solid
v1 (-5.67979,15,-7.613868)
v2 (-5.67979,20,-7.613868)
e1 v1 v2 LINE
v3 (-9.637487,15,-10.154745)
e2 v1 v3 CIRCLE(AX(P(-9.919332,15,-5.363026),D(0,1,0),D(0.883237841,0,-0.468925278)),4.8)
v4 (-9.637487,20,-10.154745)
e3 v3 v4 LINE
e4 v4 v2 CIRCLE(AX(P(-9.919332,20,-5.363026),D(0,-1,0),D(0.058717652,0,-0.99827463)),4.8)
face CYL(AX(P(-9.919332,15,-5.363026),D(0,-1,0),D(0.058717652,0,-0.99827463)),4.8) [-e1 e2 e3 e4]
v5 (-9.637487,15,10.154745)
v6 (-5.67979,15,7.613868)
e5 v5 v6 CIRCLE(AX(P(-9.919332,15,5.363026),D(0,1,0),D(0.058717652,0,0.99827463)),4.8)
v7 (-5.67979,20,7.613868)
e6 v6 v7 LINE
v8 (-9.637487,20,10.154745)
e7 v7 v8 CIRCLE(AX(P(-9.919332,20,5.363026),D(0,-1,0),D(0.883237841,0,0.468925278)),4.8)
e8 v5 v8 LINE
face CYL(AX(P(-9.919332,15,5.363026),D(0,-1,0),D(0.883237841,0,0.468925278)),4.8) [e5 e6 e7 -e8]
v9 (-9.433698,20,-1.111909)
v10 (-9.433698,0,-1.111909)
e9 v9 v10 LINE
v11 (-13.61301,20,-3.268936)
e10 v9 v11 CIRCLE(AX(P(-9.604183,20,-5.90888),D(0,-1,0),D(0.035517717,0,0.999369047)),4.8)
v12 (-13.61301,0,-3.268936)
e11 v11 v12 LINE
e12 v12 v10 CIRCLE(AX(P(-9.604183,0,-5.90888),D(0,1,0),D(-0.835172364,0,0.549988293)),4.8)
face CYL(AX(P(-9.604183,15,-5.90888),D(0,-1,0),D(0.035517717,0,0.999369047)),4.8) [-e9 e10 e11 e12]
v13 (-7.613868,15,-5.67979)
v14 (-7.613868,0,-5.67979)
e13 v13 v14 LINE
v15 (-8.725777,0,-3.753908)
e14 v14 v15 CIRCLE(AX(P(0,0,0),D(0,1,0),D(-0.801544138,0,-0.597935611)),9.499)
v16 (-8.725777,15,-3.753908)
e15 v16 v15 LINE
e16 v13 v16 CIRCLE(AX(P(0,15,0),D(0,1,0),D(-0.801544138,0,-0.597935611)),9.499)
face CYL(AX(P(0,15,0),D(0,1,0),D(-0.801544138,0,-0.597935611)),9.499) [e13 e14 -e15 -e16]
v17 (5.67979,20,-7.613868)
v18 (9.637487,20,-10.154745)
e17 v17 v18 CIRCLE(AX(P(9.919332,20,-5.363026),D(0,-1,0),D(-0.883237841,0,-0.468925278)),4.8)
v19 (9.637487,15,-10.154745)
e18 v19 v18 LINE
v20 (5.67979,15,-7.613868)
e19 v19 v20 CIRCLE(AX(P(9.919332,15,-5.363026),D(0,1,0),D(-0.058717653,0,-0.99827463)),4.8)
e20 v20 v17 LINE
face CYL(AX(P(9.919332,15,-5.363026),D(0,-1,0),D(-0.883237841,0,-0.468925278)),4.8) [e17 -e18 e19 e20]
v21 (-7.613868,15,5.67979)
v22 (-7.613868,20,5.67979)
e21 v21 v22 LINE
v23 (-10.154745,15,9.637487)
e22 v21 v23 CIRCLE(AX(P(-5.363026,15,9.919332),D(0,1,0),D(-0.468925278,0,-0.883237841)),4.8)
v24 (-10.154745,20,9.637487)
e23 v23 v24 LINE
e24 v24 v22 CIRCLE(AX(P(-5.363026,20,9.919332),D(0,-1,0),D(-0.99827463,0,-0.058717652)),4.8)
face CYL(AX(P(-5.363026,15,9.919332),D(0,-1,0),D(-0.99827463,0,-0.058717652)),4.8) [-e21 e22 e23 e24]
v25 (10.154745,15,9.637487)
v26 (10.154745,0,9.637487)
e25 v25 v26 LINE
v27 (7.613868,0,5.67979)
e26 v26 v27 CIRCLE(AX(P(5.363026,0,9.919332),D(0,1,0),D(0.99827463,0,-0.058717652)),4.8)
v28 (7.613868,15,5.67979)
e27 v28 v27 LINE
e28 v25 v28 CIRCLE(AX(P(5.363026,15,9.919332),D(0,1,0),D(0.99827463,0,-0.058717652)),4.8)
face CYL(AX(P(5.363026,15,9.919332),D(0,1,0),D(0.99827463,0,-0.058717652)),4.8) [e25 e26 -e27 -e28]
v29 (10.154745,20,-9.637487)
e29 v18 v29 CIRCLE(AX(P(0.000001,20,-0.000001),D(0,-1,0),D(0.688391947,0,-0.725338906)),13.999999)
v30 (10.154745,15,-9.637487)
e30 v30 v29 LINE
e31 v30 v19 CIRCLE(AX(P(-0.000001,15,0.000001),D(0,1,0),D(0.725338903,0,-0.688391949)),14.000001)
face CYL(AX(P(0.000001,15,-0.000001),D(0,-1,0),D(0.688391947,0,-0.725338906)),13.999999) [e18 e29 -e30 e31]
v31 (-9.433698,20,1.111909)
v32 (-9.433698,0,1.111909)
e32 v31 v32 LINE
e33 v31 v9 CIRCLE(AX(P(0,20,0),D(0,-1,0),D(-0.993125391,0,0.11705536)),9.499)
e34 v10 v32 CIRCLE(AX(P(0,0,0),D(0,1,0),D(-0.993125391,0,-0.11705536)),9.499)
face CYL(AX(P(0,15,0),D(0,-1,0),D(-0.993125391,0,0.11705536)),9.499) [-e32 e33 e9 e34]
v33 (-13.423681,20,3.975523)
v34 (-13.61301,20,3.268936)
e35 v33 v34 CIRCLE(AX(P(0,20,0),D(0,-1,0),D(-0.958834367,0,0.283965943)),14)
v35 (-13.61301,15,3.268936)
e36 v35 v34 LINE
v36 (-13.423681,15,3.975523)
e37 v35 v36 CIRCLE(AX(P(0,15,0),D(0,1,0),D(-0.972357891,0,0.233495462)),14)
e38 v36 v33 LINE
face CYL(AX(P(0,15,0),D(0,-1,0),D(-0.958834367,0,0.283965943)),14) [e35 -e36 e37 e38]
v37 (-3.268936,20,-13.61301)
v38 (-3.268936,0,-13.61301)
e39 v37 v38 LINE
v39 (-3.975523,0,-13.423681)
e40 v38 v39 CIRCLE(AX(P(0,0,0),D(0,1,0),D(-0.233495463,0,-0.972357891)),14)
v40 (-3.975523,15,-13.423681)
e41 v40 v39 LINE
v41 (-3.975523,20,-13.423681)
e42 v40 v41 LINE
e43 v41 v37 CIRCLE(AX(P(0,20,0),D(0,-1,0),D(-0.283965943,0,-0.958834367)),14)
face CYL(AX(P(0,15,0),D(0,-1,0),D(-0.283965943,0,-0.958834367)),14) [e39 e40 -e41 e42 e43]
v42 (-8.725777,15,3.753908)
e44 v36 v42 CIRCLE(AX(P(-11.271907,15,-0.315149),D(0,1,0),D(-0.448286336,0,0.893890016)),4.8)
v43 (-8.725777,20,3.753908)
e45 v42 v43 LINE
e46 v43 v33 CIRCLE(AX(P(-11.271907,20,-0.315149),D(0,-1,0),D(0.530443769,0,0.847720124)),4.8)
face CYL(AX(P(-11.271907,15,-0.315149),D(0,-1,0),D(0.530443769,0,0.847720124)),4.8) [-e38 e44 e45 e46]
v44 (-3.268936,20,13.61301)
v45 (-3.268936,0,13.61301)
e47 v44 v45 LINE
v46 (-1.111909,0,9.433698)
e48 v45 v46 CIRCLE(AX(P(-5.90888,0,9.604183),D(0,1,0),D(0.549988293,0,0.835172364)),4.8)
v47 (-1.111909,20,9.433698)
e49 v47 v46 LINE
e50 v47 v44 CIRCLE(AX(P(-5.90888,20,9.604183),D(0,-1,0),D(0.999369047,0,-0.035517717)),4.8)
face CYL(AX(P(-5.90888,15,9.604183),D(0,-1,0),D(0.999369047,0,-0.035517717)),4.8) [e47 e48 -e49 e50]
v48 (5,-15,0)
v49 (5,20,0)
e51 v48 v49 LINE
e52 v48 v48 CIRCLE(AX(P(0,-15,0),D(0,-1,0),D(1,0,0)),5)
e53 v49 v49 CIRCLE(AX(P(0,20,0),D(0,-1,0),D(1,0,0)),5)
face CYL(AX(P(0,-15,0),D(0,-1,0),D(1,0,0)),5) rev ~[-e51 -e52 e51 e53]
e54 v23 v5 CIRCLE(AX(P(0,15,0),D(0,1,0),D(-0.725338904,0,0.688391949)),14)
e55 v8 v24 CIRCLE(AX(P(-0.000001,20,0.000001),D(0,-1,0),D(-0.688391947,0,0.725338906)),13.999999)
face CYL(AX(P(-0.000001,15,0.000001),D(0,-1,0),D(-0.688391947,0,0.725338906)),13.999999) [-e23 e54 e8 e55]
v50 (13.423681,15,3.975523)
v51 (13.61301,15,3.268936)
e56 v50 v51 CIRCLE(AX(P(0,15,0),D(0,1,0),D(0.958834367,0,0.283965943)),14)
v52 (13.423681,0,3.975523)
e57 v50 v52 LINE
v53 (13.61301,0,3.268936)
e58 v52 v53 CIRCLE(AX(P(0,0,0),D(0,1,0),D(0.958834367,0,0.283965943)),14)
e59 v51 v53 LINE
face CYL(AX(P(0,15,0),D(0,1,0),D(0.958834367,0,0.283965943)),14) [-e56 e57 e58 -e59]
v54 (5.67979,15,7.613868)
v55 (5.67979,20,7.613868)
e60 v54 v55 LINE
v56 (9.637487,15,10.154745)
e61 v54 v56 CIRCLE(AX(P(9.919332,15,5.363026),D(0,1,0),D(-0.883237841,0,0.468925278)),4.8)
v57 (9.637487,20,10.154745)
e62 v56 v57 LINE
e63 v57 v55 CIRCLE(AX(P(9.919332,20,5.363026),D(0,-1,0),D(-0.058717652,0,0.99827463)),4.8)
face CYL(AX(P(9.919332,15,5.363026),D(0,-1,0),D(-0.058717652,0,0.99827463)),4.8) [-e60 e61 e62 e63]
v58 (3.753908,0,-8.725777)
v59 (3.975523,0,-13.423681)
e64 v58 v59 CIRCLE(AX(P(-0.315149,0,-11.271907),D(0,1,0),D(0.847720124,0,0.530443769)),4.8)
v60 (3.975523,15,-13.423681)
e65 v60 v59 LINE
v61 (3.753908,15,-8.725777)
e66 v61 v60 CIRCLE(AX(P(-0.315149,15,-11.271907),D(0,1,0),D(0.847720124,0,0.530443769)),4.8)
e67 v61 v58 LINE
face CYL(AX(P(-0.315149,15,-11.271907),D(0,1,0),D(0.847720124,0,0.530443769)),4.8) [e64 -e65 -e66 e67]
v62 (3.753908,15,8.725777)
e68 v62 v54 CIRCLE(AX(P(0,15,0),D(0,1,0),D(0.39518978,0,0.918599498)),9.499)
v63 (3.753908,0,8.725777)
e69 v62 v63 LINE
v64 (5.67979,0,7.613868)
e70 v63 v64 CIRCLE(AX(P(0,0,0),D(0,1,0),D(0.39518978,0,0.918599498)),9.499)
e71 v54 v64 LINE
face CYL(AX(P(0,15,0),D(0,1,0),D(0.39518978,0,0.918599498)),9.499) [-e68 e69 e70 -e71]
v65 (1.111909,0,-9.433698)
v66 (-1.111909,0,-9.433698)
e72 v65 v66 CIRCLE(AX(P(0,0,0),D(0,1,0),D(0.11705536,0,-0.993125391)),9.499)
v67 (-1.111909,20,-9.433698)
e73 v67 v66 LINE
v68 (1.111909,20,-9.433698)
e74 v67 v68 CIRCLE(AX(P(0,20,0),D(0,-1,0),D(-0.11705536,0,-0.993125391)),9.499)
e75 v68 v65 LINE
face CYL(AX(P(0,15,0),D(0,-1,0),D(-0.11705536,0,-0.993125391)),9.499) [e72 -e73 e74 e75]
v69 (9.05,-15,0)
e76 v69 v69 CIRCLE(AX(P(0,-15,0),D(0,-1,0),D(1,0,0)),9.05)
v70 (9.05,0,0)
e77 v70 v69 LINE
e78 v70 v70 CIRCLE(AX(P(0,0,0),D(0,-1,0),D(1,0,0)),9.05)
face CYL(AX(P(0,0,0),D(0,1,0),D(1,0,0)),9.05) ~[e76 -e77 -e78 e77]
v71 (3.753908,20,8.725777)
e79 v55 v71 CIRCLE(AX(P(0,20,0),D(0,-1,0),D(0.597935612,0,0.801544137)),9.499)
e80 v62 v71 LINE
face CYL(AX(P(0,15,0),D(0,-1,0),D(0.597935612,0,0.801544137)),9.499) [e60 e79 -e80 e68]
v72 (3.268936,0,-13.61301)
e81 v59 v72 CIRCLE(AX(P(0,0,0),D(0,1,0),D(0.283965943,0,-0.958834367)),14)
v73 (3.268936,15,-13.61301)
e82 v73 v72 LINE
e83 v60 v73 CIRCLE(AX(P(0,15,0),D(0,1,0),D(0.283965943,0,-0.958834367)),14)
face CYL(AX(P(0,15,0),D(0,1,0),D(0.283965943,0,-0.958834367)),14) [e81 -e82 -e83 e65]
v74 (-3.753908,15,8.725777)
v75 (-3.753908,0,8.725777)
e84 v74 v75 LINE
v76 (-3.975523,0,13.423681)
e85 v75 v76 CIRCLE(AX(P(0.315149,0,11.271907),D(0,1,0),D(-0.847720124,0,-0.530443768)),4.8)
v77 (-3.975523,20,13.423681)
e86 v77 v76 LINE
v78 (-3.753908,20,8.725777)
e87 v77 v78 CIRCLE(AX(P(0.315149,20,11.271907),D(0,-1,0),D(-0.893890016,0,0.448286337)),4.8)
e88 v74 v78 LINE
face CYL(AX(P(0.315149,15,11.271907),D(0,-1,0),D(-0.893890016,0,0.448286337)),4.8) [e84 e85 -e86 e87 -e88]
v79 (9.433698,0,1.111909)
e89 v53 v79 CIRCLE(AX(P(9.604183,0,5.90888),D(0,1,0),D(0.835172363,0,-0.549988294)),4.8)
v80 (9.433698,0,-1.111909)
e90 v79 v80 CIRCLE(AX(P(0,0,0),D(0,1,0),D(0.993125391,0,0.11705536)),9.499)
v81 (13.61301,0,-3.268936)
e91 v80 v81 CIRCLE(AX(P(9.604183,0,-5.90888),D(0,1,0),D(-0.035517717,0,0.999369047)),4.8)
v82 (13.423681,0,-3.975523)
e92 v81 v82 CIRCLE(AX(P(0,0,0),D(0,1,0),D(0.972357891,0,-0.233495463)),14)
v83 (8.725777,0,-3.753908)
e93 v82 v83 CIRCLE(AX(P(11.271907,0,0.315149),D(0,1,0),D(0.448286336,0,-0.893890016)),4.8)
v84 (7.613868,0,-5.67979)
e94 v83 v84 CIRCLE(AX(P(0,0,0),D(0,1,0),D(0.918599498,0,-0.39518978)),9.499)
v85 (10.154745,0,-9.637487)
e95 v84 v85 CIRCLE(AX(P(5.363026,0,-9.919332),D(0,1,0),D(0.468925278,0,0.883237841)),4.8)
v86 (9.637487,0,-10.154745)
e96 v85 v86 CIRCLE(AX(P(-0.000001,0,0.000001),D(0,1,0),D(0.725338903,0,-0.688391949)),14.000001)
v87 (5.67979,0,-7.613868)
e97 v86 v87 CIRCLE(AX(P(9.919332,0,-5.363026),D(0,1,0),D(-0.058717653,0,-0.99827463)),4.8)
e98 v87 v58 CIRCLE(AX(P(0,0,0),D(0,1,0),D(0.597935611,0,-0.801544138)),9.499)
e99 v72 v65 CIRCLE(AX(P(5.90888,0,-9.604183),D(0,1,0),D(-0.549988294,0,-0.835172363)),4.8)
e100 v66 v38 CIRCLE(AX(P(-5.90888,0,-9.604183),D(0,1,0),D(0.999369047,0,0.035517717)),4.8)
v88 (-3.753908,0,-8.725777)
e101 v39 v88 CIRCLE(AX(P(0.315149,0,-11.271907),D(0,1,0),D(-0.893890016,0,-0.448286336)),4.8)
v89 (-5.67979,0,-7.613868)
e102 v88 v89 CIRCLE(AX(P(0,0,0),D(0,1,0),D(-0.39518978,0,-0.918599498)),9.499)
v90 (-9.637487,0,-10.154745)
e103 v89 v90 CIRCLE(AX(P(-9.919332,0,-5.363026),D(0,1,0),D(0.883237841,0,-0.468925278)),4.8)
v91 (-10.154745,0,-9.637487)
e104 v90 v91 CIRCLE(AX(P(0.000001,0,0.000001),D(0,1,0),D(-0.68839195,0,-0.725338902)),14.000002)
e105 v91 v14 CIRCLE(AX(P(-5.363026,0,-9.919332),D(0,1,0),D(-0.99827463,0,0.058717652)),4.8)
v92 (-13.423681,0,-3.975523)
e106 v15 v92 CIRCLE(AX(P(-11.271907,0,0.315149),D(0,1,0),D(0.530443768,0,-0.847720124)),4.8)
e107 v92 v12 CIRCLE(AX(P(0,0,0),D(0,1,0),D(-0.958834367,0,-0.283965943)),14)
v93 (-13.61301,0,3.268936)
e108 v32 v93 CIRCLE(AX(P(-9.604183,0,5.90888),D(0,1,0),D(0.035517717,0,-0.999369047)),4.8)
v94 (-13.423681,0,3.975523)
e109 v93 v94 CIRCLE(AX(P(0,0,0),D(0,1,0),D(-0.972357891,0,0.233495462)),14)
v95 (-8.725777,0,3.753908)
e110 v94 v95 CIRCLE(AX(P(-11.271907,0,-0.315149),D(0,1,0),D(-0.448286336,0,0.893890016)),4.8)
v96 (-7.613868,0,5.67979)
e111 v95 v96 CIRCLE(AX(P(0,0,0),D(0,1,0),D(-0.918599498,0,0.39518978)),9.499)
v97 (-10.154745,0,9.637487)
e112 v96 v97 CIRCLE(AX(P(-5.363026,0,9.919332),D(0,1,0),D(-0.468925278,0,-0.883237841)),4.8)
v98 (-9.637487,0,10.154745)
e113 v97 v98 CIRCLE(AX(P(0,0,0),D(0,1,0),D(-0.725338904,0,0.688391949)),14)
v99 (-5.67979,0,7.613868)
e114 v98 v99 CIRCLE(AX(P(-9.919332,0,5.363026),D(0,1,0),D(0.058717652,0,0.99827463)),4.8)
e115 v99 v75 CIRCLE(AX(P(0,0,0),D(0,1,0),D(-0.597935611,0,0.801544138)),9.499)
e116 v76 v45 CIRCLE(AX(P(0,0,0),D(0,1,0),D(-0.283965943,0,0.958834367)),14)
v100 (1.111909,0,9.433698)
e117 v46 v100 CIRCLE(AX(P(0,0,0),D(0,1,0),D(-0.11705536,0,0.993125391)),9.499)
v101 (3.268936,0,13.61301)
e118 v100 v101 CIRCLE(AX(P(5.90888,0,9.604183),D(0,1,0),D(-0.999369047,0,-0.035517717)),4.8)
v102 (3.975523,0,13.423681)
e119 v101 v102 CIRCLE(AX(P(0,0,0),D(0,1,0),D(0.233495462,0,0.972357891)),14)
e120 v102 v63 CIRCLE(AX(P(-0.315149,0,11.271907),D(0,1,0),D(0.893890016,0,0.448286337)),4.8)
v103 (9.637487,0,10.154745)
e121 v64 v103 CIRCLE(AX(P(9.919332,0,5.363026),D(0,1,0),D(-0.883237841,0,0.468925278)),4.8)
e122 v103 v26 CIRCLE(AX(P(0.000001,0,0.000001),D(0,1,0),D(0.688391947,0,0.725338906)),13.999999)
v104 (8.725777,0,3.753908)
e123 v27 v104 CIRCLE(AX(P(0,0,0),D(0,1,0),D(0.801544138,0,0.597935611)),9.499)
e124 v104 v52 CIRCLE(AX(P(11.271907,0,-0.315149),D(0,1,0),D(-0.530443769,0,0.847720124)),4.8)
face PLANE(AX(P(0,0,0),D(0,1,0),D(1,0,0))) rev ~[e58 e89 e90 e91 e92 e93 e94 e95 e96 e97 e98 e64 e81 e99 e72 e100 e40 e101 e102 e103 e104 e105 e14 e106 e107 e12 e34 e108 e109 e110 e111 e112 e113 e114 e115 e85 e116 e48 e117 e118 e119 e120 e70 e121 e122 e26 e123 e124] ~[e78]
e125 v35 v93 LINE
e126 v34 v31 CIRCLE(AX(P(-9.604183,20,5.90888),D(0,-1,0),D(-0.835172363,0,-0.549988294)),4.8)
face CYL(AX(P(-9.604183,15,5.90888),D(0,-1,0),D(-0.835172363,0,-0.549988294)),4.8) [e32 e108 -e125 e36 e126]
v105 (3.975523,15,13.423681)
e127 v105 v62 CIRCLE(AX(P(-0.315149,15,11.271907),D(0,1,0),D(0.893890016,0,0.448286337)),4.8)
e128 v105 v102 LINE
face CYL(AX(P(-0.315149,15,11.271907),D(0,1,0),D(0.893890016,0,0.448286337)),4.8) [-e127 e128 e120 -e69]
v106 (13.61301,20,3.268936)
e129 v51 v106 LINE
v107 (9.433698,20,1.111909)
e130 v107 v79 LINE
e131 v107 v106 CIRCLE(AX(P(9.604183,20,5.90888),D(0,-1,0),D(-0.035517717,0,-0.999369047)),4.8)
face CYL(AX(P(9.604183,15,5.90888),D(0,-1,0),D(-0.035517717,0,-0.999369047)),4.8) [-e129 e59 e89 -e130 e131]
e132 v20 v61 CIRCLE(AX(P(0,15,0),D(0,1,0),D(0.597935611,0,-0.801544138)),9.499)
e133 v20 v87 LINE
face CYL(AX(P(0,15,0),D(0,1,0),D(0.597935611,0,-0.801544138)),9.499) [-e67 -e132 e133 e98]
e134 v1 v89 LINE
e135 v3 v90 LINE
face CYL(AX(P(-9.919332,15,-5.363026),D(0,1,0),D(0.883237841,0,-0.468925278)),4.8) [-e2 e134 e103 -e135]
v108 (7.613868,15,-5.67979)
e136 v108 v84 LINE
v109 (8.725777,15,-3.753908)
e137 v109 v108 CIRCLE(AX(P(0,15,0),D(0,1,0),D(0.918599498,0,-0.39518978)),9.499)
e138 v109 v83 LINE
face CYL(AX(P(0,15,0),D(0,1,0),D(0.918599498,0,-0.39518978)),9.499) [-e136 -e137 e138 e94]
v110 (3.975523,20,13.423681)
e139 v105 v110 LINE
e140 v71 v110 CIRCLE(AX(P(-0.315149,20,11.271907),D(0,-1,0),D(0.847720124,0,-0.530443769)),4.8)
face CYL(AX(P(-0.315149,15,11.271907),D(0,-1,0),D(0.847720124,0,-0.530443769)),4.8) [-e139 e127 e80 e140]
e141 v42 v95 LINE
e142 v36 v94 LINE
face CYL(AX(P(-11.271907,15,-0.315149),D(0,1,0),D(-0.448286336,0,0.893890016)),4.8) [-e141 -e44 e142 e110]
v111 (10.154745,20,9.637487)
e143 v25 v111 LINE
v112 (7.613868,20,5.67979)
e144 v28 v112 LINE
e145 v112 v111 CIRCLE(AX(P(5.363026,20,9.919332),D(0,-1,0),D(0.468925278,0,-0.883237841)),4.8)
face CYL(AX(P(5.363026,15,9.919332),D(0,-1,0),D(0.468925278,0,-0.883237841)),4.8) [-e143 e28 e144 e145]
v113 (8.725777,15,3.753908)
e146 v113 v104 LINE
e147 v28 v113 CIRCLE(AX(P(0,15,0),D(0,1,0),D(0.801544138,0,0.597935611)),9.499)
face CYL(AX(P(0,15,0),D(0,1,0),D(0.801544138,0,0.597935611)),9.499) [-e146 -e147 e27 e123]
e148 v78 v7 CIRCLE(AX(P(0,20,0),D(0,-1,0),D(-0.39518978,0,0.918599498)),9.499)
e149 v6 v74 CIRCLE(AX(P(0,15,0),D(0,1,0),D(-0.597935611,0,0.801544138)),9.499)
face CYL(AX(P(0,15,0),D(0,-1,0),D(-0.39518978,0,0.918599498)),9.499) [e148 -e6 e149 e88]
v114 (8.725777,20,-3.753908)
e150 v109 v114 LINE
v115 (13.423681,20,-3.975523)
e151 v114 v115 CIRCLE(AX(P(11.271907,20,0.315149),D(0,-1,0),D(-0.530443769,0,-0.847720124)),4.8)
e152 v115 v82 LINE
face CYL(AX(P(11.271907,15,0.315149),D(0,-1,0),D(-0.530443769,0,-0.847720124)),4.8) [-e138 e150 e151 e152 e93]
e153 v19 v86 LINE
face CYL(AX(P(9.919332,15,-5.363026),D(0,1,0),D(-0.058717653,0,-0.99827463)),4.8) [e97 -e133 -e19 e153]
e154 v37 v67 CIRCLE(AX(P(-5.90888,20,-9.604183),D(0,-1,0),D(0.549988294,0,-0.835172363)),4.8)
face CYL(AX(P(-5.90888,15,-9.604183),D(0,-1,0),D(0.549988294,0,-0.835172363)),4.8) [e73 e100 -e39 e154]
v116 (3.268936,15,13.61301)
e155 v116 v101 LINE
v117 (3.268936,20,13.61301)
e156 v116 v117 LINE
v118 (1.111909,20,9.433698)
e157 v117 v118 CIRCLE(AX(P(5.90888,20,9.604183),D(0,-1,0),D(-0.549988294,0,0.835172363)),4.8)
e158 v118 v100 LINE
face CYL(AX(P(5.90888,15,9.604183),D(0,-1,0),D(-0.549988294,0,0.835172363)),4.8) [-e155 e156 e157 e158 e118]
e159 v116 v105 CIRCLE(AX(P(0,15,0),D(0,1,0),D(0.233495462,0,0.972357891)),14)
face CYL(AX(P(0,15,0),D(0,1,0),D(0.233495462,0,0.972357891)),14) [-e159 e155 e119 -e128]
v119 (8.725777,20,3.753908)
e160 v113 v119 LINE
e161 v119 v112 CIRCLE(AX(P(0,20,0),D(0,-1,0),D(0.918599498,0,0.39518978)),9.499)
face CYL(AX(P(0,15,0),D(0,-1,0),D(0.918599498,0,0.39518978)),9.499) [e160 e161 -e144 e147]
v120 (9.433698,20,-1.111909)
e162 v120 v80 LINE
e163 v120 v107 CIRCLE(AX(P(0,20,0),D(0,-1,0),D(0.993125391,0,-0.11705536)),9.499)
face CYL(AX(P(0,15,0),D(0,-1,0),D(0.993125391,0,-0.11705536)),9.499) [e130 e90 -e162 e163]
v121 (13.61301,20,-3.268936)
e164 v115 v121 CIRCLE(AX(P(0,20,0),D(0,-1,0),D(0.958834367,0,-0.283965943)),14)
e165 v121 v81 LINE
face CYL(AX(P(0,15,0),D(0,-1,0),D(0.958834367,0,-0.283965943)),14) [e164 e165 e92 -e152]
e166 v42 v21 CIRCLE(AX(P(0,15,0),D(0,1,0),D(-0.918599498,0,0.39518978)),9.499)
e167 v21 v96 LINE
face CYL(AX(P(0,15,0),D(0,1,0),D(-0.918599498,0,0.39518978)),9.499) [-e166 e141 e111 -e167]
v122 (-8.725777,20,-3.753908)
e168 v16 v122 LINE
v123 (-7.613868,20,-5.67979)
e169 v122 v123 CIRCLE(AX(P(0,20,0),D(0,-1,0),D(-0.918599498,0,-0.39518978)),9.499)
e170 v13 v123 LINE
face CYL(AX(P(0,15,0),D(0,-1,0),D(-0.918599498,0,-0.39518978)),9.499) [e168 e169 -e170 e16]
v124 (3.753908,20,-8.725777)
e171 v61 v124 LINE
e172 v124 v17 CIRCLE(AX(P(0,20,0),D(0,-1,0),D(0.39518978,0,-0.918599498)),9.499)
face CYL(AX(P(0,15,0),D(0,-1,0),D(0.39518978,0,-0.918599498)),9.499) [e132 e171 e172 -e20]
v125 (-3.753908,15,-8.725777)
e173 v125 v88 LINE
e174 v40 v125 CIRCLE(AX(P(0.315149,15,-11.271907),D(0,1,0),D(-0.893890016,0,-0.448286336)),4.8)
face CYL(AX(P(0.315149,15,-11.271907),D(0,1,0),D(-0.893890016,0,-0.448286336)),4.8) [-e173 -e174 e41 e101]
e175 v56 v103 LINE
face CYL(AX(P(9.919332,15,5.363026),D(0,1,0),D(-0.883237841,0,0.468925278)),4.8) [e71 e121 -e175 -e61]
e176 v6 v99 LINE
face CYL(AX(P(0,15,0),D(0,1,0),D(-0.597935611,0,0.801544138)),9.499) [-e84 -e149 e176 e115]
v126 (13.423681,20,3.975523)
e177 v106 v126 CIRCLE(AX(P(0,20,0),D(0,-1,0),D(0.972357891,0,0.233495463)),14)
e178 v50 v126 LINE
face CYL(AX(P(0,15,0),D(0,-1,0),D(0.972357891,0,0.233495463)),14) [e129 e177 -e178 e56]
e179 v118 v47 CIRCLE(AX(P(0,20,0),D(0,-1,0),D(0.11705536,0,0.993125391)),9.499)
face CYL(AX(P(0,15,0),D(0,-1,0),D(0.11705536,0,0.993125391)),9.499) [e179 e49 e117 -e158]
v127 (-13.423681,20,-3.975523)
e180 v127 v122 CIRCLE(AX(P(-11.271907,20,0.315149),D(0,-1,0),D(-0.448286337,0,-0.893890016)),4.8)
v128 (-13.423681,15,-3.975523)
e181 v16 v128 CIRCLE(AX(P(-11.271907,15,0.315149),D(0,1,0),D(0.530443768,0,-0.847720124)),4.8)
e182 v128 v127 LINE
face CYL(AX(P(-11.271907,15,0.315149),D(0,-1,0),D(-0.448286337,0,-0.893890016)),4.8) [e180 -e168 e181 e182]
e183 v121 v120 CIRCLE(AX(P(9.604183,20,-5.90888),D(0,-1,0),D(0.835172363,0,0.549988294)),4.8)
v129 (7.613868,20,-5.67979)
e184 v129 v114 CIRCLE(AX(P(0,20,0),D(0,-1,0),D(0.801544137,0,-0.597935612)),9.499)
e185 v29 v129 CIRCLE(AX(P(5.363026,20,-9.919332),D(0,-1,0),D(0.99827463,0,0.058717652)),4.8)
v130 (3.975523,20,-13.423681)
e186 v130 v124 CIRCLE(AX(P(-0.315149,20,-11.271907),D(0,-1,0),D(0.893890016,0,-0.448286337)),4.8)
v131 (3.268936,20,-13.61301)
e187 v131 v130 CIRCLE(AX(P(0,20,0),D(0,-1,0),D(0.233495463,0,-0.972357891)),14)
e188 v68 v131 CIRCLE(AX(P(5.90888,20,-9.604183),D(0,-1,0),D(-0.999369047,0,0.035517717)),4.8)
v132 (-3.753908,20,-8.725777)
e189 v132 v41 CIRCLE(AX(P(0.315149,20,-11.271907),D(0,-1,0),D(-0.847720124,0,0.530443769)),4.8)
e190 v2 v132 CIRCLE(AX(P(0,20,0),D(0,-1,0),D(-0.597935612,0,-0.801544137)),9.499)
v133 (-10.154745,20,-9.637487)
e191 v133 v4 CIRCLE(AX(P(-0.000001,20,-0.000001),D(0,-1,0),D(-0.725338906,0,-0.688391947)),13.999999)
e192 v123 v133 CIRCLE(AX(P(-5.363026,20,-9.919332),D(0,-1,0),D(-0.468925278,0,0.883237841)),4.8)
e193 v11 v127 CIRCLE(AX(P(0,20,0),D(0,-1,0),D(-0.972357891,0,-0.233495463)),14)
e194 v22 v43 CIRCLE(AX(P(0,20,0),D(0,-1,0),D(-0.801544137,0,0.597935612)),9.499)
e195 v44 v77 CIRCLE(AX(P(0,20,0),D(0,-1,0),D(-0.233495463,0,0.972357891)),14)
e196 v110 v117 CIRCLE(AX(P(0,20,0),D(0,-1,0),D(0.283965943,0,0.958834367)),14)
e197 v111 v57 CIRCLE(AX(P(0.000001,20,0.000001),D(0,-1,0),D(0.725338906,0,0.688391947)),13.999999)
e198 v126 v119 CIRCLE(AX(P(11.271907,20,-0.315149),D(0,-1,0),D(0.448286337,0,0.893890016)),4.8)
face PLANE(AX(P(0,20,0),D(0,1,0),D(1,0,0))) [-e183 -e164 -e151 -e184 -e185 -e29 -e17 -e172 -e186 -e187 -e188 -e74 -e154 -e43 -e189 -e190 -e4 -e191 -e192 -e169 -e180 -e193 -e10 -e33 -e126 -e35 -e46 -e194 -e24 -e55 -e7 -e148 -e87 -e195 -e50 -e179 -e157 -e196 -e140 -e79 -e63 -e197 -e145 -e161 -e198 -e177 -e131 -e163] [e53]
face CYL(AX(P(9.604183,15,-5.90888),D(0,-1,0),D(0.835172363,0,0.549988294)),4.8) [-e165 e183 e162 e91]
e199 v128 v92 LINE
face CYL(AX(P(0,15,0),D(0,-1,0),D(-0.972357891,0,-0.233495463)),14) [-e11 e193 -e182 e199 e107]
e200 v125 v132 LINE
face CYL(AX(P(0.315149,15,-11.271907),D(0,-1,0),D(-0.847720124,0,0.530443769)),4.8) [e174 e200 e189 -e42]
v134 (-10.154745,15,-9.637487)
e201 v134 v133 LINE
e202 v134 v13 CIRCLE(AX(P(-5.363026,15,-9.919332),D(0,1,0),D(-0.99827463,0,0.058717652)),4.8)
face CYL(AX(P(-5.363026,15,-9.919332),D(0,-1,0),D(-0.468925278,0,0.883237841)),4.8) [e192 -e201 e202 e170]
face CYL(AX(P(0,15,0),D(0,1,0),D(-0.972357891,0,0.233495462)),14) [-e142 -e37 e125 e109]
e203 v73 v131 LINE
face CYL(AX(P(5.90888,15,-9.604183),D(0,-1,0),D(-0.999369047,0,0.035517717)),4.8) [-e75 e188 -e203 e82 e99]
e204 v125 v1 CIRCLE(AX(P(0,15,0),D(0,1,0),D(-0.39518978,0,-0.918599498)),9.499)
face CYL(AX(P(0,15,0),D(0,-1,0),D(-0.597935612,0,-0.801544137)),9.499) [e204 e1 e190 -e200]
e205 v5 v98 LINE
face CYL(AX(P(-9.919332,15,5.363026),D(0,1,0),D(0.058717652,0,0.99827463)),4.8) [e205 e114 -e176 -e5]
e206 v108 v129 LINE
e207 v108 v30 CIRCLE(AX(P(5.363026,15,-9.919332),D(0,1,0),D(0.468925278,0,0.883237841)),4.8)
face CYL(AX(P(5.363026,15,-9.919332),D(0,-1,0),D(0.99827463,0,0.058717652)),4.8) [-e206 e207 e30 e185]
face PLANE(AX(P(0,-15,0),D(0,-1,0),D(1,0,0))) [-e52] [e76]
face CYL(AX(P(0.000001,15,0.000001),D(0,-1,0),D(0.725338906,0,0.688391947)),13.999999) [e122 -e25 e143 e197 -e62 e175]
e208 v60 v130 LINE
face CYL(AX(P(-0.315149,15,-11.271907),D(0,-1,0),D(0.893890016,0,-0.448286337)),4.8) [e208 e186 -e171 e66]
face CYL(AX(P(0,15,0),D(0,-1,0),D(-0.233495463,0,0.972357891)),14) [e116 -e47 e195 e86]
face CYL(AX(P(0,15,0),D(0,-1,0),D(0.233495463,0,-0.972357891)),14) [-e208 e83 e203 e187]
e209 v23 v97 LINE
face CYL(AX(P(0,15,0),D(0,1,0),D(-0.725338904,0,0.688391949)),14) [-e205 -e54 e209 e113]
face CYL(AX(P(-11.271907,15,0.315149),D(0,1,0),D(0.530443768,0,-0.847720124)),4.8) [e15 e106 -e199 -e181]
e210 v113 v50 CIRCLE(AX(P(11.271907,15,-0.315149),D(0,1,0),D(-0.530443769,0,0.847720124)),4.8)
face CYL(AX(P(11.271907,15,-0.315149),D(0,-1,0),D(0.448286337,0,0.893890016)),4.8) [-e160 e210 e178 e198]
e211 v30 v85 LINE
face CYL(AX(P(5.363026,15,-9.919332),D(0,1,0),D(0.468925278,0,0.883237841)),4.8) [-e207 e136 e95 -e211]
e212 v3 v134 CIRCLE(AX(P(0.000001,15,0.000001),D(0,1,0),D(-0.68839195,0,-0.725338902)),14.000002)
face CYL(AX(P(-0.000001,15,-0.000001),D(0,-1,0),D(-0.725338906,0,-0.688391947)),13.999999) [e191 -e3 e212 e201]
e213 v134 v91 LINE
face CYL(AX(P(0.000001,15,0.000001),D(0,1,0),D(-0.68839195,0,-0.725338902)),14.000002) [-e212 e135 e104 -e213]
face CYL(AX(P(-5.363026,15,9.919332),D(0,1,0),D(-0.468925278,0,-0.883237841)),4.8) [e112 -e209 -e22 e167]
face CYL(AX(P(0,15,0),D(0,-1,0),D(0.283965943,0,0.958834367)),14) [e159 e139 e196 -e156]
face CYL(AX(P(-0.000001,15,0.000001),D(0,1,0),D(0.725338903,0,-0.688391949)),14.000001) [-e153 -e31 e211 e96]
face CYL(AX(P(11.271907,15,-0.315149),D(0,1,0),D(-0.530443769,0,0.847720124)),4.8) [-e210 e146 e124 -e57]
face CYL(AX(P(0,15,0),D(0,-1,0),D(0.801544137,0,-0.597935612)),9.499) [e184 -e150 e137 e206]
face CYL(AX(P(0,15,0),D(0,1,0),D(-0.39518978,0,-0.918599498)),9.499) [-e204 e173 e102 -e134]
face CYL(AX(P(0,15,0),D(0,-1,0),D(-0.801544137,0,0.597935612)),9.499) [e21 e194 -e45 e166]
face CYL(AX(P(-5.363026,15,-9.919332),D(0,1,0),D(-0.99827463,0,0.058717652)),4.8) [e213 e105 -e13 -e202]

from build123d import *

# Parameters (mm, degrees)
SKETCH1_R           = 17
BOSS_EXTRUDE1_DEPTH = 20
SKETCH2_R           = 17
CUT_EXTRUDE1_DEPTH  = 15
SKETCH4_R           = 17
CUT_EXTRUDE2_DEPTH  = 5
SKETCH5_R           = 9.05
BOSS_EXTRUDE2_DEPTH = 15
SKETCH6_R           = 5
CUT_EXTRUDE3_DEPTH  = 35


with BuildPart() as part:
    # Sketch1 → Boss-Extrude1 (new body)
    with BuildSketch(Plane(origin=(0, 0, 0), x_dir=(1, 0, 0), z_dir=(0, 1, 0))):
        Circle(SKETCH1_R)
    extrude(amount=BOSS_EXTRUDE1_DEPTH)

    # Sketch2 → Cut-Extrude1 (cut)
    with BuildSketch(Plane(origin=(-13.818246137, 15, -17.496579046), x_dir=(1, 0, 0), z_dir=(0, 1, 0))):
        with Locations((13.818246137, -17.496579046)):
            Circle(SKETCH2_R)
        with BuildLine():
            ThreePointArc((19.498036508, -25.110446812), (21.14436633, -26.898819817), (23.455733413, -27.651323701))
            ThreePointArc((23.455733413, -27.651323701), (23.717741074, -27.396073983), (23.972990792, -27.134066322))
            ThreePointArc((23.972990792, -27.134066322), (23.220486908, -24.822699239), (21.432113903, -23.176369417))
            ThreePointArc((21.432113903, -23.176369417), (22.044621448, -22.246079046), (22.544022769, -21.250486767))
            ThreePointArc((22.544022769, -21.250486767), (24.86397272, -21.97609831), (27.241927274, -21.472102249))
            ThreePointArc((27.241927274, -21.472102249), (27.341207705, -21.120045678), (27.431256615, -20.765515528))
            ThreePointArc((27.431256615, -20.765515528), (25.623885593, -19.140064859), (23.251944228, -18.608487912))
            ThreePointArc((23.251944228, -18.608487912), (23.317246137, -17.496579046), (23.251944228, -16.38467018))
            ThreePointArc((23.251944228, -16.38467018), (25.623885593, -15.853093234), (27.431256615, -14.227642564))
            ThreePointArc((27.431256615, -14.227642564), (27.341207705, -13.873112415), (27.241927274, -13.521055844))
            ThreePointArc((27.241927274, -13.521055844), (24.86397272, -13.017059783), (22.544022769, -13.742671325))
            ThreePointArc((22.544022769, -13.742671325), (22.044621448, -12.747079046), (21.432113903, -11.816788676))
            ThreePointArc((21.432113903, -11.816788676), (23.220486908, -10.170458854), (23.972990792, -7.85909177))
            ThreePointArc((23.972990792, -7.85909177), (23.717741074, -7.59708411), (23.455733413, -7.341834391))
            ThreePointArc((23.455733413, -7.341834391), (21.14436633, -8.094338276), (19.498036508, -9.882711281))
            ThreePointArc((19.498036508, -9.882711281), (18.567746137, -9.270203736), (17.572153858, -8.770802415))
            ThreePointArc((17.572153858, -8.770802415), (18.297765401, -6.450852463), (17.79376934, -4.072897909))
            ThreePointArc((17.79376934, -4.072897909), (17.441712769, -3.973617478), (17.087182619, -3.883568568))
            ThreePointArc((17.087182619, -3.883568568), (15.46173195, -5.69093959), (14.930155003, -8.062880955))
            ThreePointArc((14.930155003, -8.062880955), (13.818246137, -7.997579046), (12.706337271, -8.062880955))
            ThreePointArc((12.706337271, -8.062880955), (12.174760325, -5.69093959), (10.549309655, -3.883568568))
            ThreePointArc((10.549309655, -3.883568568), (10.194779506, -3.973617478), (9.842722935, -4.072897909))
            ThreePointArc((9.842722935, -4.072897909), (9.338726874, -6.450852463), (10.064338416, -8.770802415))
            ThreePointArc((10.064338416, -8.770802415), (9.068746137, -9.270203736), (8.138455767, -9.882711281))
            ThreePointArc((8.138455767, -9.882711281), (6.492125945, -8.094338276), (4.180758862, -7.341834391))
            ThreePointArc((4.180758862, -7.341834391), (3.918751201, -7.59708411), (3.663501482, -7.85909177))
            ThreePointArc((3.663501482, -7.85909177), (4.416005367, -10.170458854), (6.204378372, -11.816788676))
            ThreePointArc((6.204378372, -11.816788676), (5.591870827, -12.747079046), (5.092469506, -13.742671325))
            ThreePointArc((5.092469506, -13.742671325), (2.772519554, -13.017059783), (0.394565, -13.521055844))
            ThreePointArc((0.394565, -13.521055844), (0.295284569, -13.873112415), (0.205235659, -14.227642564))
            ThreePointArc((0.205235659, -14.227642564), (2.012606681, -15.853093234), (4.384548046, -16.38467018))
            ThreePointArc((4.384548046, -16.38467018), (4.319246137, -17.496579046), (4.384548046, -18.608487912))
            ThreePointArc((4.384548046, -18.608487912), (2.012606681, -19.140064859), (0.205235659, -20.765515528))
            ThreePointArc((0.205235659, -20.765515528), (0.295284569, -21.120045678), (0.394565, -21.472102249))
            ThreePointArc((0.394565, -21.472102249), (2.772519554, -21.97609831), (5.092469506, -21.250486767))
            ThreePointArc((5.092469506, -21.250486767), (5.591870827, -22.246079046), (6.204378372, -23.176369417))
            ThreePointArc((6.204378372, -23.176369417), (4.416005367, -24.822699239), (3.663501482, -27.134066322))
            ThreePointArc((3.663501482, -27.134066322), (3.918751201, -27.396073983), (4.180758862, -27.651323701))
            ThreePointArc((4.180758862, -27.651323701), (6.492125945, -26.898819817), (8.138455767, -25.110446812))
            ThreePointArc((8.138455767, -25.110446812), (9.068746137, -25.722954357), (10.064338416, -26.222355678))
            ThreePointArc((10.064338416, -26.222355678), (9.338726874, -28.542305629), (9.842722935, -30.920260183))
            ThreePointArc((9.842722935, -30.920260183), (10.194779506, -31.019540614), (10.549309655, -31.109589524))
            ThreePointArc((10.549309655, -31.109589524), (12.174760325, -29.302218502), (12.706337271, -26.930277137))
            ThreePointArc((12.706337271, -26.930277137), (13.818246137, -26.995579046), (14.930155003, -26.930277137))
            ThreePointArc((14.930155003, -26.930277137), (15.46173195, -29.302218502), (17.087182619, -31.109589524))
            ThreePointArc((17.087182619, -31.109589524), (17.441712769, -31.019540614), (17.79376934, -30.920260183))
            ThreePointArc((17.79376934, -30.920260183), (18.297765401, -28.542305629), (17.572153858, -26.222355678))
            ThreePointArc((17.572153858, -26.222355678), (18.567746137, -25.722954357), (19.498036508, -25.110446812))
        make_face(mode=Mode.SUBTRACT)
    extrude(amount=-CUT_EXTRUDE1_DEPTH, mode=Mode.SUBTRACT)

    # Sketch4 → Cut-Extrude2 (cut)
    with BuildSketch(Plane.XZ.offset(-15)):
        Circle(SKETCH4_R)
        with BuildLine():
            ThreePointArc((5.67979037, 7.613867765), (4.7495, 8.226375311), (3.753907721, 8.725776632))
            ThreePointArc((3.753907721, 8.725776632), (4.479519264, 11.045726583), (3.975523202, 13.423681137))
            ThreePointArc((3.975523202, 13.423681137), (3.623466631, 13.522961568), (3.268936482, 13.613010478))
            ThreePointArc((3.268936482, 13.613010478), (1.643485813, 11.805639456), (1.111908866, 9.433698091))
            ThreePointArc((1.111908866, 9.433698091), (0, 9.499), (-1.111908866, 9.433698091))
            ThreePointArc((-1.111908866, 9.433698091), (-1.643485813, 11.805639456), (-3.268936482, 13.613010478))
            ThreePointArc((-3.268936482, 13.613010478), (-3.623466631, 13.522961568), (-3.975523202, 13.423681137))
            ThreePointArc((-3.975523202, 13.423681137), (-4.479519264, 11.045726583), (-3.753907721, 8.725776632))
            ThreePointArc((-3.753907721, 8.725776632), (-4.7495, 8.226375311), (-5.67979037, 7.613867765))
            ThreePointArc((-5.67979037, 7.613867765), (-7.326120193, 9.402240771), (-9.637487276, 10.154744655))
            ThreePointArc((-9.637487276, 10.154744655), (-9.899494937, 9.899494937), (-10.154744655, 9.637487276))
            ThreePointArc((-10.154744655, 9.637487276), (-9.402240771, 7.326120193), (-7.613867765, 5.67979037))
            ThreePointArc((-7.613867765, 5.67979037), (-8.226375311, 4.7495), (-8.725776632, 3.753907721))
            ThreePointArc((-8.725776632, 3.753907721), (-11.045726583, 4.479519264), (-13.423681137, 3.975523202))
            ThreePointArc((-13.423681137, 3.975523202), (-13.522961568, 3.623466631), (-13.613010478, 3.268936482))
            ThreePointArc((-13.613010478, 3.268936482), (-11.805639456, 1.643485813), (-9.433698091, 1.111908866))
            ThreePointArc((-9.433698091, 1.111908866), (-9.499, 0), (-9.433698091, -1.111908866))
            ThreePointArc((-9.433698091, -1.111908866), (-11.805639456, -1.643485813), (-13.613010478, -3.268936482))
            ThreePointArc((-13.613010478, -3.268936482), (-13.522961568, -3.623466631), (-13.423681137, -3.975523202))
            ThreePointArc((-13.423681137, -3.975523202), (-11.045726583, -4.479519264), (-8.725776632, -3.753907721))
            ThreePointArc((-8.725776632, -3.753907721), (-8.226375311, -4.7495), (-7.613867765, -5.67979037))
            ThreePointArc((-7.613867765, -5.67979037), (-9.402240771, -7.326120193), (-10.154744655, -9.637487276))
            ThreePointArc((-10.154744655, -9.637487276), (-9.899494937, -9.899494937), (-9.637487276, -10.154744655))
            ThreePointArc((-9.637487276, -10.154744655), (-7.326120193, -9.402240771), (-5.67979037, -7.613867765))
            ThreePointArc((-5.67979037, -7.613867765), (-4.7495, -8.226375311), (-3.753907721, -8.725776632))
            ThreePointArc((-3.753907721, -8.725776632), (-4.479519264, -11.045726583), (-3.975523202, -13.423681137))
            ThreePointArc((-3.975523202, -13.423681137), (-3.623466631, -13.522961568), (-3.268936482, -13.613010478))
            ThreePointArc((-3.268936482, -13.613010478), (-1.643485813, -11.805639456), (-1.111908866, -9.433698091))
            ThreePointArc((-1.111908866, -9.433698091), (0, -9.499), (1.111908866, -9.433698091))
            ThreePointArc((1.111908866, -9.433698091), (1.643485813, -11.805639456), (3.268936482, -13.613010478))
            ThreePointArc((3.268936482, -13.613010478), (3.623466631, -13.522961568), (3.975523202, -13.423681137))
            ThreePointArc((3.975523202, -13.423681137), (4.479519264, -11.045726583), (3.753907721, -8.725776632))
            ThreePointArc((3.753907721, -8.725776632), (4.7495, -8.226375311), (5.67979037, -7.613867765))
            ThreePointArc((5.67979037, -7.613867765), (7.326120193, -9.402240771), (9.637487276, -10.154744655))
            ThreePointArc((9.637487276, -10.154744655), (9.899494937, -9.899494937), (10.154744655, -9.637487276))
            ThreePointArc((10.154744655, -9.637487276), (9.402240771, -7.326120193), (7.613867765, -5.67979037))
            ThreePointArc((7.613867765, -5.67979037), (8.226375311, -4.7495), (8.725776632, -3.753907721))
            ThreePointArc((8.725776632, -3.753907721), (11.045726583, -4.479519264), (13.423681137, -3.975523202))
            ThreePointArc((13.423681137, -3.975523202), (13.522961568, -3.623466631), (13.613010478, -3.268936482))
            ThreePointArc((13.613010478, -3.268936482), (11.805639456, -1.643485813), (9.433698091, -1.111908866))
            ThreePointArc((9.433698091, -1.111908866), (9.499, 0), (9.433698091, 1.111908866))
            ThreePointArc((9.433698091, 1.111908866), (11.805639456, 1.643485813), (13.613010478, 3.268936482))
            ThreePointArc((13.613010478, 3.268936482), (13.522961568, 3.623466631), (13.423681137, 3.975523202))
            ThreePointArc((13.423681137, 3.975523202), (11.045726583, 4.479519264), (8.725776632, 3.753907721))
            ThreePointArc((8.725776632, 3.753907721), (8.226375311, 4.7495), (7.613867765, 5.67979037))
            ThreePointArc((7.613867765, 5.67979037), (9.402240771, 7.326120193), (10.154744655, 9.637487276))
            ThreePointArc((10.154744655, 9.637487276), (9.899494937, 9.899494937), (9.637487276, 10.154744655))
            ThreePointArc((9.637487276, 10.154744655), (7.326120193, 9.402240771), (5.67979037, 7.613867765))
        make_face(mode=Mode.SUBTRACT)
    extrude(amount=-CUT_EXTRUDE2_DEPTH, mode=Mode.SUBTRACT)

    # Sketch5 → Boss-Extrude2 (add)
    with BuildSketch(Plane.XZ):
        Circle(SKETCH5_R)
    extrude(amount=BOSS_EXTRUDE2_DEPTH)

    # Sketch6 → Cut-Extrude3 (cut)
    with BuildSketch(Plane.XZ.offset(15)):
        Circle(SKETCH6_R)
    extrude(amount=-CUT_EXTRUDE3_DEPTH, mode=Mode.SUBTRACT)


solid = part.part
